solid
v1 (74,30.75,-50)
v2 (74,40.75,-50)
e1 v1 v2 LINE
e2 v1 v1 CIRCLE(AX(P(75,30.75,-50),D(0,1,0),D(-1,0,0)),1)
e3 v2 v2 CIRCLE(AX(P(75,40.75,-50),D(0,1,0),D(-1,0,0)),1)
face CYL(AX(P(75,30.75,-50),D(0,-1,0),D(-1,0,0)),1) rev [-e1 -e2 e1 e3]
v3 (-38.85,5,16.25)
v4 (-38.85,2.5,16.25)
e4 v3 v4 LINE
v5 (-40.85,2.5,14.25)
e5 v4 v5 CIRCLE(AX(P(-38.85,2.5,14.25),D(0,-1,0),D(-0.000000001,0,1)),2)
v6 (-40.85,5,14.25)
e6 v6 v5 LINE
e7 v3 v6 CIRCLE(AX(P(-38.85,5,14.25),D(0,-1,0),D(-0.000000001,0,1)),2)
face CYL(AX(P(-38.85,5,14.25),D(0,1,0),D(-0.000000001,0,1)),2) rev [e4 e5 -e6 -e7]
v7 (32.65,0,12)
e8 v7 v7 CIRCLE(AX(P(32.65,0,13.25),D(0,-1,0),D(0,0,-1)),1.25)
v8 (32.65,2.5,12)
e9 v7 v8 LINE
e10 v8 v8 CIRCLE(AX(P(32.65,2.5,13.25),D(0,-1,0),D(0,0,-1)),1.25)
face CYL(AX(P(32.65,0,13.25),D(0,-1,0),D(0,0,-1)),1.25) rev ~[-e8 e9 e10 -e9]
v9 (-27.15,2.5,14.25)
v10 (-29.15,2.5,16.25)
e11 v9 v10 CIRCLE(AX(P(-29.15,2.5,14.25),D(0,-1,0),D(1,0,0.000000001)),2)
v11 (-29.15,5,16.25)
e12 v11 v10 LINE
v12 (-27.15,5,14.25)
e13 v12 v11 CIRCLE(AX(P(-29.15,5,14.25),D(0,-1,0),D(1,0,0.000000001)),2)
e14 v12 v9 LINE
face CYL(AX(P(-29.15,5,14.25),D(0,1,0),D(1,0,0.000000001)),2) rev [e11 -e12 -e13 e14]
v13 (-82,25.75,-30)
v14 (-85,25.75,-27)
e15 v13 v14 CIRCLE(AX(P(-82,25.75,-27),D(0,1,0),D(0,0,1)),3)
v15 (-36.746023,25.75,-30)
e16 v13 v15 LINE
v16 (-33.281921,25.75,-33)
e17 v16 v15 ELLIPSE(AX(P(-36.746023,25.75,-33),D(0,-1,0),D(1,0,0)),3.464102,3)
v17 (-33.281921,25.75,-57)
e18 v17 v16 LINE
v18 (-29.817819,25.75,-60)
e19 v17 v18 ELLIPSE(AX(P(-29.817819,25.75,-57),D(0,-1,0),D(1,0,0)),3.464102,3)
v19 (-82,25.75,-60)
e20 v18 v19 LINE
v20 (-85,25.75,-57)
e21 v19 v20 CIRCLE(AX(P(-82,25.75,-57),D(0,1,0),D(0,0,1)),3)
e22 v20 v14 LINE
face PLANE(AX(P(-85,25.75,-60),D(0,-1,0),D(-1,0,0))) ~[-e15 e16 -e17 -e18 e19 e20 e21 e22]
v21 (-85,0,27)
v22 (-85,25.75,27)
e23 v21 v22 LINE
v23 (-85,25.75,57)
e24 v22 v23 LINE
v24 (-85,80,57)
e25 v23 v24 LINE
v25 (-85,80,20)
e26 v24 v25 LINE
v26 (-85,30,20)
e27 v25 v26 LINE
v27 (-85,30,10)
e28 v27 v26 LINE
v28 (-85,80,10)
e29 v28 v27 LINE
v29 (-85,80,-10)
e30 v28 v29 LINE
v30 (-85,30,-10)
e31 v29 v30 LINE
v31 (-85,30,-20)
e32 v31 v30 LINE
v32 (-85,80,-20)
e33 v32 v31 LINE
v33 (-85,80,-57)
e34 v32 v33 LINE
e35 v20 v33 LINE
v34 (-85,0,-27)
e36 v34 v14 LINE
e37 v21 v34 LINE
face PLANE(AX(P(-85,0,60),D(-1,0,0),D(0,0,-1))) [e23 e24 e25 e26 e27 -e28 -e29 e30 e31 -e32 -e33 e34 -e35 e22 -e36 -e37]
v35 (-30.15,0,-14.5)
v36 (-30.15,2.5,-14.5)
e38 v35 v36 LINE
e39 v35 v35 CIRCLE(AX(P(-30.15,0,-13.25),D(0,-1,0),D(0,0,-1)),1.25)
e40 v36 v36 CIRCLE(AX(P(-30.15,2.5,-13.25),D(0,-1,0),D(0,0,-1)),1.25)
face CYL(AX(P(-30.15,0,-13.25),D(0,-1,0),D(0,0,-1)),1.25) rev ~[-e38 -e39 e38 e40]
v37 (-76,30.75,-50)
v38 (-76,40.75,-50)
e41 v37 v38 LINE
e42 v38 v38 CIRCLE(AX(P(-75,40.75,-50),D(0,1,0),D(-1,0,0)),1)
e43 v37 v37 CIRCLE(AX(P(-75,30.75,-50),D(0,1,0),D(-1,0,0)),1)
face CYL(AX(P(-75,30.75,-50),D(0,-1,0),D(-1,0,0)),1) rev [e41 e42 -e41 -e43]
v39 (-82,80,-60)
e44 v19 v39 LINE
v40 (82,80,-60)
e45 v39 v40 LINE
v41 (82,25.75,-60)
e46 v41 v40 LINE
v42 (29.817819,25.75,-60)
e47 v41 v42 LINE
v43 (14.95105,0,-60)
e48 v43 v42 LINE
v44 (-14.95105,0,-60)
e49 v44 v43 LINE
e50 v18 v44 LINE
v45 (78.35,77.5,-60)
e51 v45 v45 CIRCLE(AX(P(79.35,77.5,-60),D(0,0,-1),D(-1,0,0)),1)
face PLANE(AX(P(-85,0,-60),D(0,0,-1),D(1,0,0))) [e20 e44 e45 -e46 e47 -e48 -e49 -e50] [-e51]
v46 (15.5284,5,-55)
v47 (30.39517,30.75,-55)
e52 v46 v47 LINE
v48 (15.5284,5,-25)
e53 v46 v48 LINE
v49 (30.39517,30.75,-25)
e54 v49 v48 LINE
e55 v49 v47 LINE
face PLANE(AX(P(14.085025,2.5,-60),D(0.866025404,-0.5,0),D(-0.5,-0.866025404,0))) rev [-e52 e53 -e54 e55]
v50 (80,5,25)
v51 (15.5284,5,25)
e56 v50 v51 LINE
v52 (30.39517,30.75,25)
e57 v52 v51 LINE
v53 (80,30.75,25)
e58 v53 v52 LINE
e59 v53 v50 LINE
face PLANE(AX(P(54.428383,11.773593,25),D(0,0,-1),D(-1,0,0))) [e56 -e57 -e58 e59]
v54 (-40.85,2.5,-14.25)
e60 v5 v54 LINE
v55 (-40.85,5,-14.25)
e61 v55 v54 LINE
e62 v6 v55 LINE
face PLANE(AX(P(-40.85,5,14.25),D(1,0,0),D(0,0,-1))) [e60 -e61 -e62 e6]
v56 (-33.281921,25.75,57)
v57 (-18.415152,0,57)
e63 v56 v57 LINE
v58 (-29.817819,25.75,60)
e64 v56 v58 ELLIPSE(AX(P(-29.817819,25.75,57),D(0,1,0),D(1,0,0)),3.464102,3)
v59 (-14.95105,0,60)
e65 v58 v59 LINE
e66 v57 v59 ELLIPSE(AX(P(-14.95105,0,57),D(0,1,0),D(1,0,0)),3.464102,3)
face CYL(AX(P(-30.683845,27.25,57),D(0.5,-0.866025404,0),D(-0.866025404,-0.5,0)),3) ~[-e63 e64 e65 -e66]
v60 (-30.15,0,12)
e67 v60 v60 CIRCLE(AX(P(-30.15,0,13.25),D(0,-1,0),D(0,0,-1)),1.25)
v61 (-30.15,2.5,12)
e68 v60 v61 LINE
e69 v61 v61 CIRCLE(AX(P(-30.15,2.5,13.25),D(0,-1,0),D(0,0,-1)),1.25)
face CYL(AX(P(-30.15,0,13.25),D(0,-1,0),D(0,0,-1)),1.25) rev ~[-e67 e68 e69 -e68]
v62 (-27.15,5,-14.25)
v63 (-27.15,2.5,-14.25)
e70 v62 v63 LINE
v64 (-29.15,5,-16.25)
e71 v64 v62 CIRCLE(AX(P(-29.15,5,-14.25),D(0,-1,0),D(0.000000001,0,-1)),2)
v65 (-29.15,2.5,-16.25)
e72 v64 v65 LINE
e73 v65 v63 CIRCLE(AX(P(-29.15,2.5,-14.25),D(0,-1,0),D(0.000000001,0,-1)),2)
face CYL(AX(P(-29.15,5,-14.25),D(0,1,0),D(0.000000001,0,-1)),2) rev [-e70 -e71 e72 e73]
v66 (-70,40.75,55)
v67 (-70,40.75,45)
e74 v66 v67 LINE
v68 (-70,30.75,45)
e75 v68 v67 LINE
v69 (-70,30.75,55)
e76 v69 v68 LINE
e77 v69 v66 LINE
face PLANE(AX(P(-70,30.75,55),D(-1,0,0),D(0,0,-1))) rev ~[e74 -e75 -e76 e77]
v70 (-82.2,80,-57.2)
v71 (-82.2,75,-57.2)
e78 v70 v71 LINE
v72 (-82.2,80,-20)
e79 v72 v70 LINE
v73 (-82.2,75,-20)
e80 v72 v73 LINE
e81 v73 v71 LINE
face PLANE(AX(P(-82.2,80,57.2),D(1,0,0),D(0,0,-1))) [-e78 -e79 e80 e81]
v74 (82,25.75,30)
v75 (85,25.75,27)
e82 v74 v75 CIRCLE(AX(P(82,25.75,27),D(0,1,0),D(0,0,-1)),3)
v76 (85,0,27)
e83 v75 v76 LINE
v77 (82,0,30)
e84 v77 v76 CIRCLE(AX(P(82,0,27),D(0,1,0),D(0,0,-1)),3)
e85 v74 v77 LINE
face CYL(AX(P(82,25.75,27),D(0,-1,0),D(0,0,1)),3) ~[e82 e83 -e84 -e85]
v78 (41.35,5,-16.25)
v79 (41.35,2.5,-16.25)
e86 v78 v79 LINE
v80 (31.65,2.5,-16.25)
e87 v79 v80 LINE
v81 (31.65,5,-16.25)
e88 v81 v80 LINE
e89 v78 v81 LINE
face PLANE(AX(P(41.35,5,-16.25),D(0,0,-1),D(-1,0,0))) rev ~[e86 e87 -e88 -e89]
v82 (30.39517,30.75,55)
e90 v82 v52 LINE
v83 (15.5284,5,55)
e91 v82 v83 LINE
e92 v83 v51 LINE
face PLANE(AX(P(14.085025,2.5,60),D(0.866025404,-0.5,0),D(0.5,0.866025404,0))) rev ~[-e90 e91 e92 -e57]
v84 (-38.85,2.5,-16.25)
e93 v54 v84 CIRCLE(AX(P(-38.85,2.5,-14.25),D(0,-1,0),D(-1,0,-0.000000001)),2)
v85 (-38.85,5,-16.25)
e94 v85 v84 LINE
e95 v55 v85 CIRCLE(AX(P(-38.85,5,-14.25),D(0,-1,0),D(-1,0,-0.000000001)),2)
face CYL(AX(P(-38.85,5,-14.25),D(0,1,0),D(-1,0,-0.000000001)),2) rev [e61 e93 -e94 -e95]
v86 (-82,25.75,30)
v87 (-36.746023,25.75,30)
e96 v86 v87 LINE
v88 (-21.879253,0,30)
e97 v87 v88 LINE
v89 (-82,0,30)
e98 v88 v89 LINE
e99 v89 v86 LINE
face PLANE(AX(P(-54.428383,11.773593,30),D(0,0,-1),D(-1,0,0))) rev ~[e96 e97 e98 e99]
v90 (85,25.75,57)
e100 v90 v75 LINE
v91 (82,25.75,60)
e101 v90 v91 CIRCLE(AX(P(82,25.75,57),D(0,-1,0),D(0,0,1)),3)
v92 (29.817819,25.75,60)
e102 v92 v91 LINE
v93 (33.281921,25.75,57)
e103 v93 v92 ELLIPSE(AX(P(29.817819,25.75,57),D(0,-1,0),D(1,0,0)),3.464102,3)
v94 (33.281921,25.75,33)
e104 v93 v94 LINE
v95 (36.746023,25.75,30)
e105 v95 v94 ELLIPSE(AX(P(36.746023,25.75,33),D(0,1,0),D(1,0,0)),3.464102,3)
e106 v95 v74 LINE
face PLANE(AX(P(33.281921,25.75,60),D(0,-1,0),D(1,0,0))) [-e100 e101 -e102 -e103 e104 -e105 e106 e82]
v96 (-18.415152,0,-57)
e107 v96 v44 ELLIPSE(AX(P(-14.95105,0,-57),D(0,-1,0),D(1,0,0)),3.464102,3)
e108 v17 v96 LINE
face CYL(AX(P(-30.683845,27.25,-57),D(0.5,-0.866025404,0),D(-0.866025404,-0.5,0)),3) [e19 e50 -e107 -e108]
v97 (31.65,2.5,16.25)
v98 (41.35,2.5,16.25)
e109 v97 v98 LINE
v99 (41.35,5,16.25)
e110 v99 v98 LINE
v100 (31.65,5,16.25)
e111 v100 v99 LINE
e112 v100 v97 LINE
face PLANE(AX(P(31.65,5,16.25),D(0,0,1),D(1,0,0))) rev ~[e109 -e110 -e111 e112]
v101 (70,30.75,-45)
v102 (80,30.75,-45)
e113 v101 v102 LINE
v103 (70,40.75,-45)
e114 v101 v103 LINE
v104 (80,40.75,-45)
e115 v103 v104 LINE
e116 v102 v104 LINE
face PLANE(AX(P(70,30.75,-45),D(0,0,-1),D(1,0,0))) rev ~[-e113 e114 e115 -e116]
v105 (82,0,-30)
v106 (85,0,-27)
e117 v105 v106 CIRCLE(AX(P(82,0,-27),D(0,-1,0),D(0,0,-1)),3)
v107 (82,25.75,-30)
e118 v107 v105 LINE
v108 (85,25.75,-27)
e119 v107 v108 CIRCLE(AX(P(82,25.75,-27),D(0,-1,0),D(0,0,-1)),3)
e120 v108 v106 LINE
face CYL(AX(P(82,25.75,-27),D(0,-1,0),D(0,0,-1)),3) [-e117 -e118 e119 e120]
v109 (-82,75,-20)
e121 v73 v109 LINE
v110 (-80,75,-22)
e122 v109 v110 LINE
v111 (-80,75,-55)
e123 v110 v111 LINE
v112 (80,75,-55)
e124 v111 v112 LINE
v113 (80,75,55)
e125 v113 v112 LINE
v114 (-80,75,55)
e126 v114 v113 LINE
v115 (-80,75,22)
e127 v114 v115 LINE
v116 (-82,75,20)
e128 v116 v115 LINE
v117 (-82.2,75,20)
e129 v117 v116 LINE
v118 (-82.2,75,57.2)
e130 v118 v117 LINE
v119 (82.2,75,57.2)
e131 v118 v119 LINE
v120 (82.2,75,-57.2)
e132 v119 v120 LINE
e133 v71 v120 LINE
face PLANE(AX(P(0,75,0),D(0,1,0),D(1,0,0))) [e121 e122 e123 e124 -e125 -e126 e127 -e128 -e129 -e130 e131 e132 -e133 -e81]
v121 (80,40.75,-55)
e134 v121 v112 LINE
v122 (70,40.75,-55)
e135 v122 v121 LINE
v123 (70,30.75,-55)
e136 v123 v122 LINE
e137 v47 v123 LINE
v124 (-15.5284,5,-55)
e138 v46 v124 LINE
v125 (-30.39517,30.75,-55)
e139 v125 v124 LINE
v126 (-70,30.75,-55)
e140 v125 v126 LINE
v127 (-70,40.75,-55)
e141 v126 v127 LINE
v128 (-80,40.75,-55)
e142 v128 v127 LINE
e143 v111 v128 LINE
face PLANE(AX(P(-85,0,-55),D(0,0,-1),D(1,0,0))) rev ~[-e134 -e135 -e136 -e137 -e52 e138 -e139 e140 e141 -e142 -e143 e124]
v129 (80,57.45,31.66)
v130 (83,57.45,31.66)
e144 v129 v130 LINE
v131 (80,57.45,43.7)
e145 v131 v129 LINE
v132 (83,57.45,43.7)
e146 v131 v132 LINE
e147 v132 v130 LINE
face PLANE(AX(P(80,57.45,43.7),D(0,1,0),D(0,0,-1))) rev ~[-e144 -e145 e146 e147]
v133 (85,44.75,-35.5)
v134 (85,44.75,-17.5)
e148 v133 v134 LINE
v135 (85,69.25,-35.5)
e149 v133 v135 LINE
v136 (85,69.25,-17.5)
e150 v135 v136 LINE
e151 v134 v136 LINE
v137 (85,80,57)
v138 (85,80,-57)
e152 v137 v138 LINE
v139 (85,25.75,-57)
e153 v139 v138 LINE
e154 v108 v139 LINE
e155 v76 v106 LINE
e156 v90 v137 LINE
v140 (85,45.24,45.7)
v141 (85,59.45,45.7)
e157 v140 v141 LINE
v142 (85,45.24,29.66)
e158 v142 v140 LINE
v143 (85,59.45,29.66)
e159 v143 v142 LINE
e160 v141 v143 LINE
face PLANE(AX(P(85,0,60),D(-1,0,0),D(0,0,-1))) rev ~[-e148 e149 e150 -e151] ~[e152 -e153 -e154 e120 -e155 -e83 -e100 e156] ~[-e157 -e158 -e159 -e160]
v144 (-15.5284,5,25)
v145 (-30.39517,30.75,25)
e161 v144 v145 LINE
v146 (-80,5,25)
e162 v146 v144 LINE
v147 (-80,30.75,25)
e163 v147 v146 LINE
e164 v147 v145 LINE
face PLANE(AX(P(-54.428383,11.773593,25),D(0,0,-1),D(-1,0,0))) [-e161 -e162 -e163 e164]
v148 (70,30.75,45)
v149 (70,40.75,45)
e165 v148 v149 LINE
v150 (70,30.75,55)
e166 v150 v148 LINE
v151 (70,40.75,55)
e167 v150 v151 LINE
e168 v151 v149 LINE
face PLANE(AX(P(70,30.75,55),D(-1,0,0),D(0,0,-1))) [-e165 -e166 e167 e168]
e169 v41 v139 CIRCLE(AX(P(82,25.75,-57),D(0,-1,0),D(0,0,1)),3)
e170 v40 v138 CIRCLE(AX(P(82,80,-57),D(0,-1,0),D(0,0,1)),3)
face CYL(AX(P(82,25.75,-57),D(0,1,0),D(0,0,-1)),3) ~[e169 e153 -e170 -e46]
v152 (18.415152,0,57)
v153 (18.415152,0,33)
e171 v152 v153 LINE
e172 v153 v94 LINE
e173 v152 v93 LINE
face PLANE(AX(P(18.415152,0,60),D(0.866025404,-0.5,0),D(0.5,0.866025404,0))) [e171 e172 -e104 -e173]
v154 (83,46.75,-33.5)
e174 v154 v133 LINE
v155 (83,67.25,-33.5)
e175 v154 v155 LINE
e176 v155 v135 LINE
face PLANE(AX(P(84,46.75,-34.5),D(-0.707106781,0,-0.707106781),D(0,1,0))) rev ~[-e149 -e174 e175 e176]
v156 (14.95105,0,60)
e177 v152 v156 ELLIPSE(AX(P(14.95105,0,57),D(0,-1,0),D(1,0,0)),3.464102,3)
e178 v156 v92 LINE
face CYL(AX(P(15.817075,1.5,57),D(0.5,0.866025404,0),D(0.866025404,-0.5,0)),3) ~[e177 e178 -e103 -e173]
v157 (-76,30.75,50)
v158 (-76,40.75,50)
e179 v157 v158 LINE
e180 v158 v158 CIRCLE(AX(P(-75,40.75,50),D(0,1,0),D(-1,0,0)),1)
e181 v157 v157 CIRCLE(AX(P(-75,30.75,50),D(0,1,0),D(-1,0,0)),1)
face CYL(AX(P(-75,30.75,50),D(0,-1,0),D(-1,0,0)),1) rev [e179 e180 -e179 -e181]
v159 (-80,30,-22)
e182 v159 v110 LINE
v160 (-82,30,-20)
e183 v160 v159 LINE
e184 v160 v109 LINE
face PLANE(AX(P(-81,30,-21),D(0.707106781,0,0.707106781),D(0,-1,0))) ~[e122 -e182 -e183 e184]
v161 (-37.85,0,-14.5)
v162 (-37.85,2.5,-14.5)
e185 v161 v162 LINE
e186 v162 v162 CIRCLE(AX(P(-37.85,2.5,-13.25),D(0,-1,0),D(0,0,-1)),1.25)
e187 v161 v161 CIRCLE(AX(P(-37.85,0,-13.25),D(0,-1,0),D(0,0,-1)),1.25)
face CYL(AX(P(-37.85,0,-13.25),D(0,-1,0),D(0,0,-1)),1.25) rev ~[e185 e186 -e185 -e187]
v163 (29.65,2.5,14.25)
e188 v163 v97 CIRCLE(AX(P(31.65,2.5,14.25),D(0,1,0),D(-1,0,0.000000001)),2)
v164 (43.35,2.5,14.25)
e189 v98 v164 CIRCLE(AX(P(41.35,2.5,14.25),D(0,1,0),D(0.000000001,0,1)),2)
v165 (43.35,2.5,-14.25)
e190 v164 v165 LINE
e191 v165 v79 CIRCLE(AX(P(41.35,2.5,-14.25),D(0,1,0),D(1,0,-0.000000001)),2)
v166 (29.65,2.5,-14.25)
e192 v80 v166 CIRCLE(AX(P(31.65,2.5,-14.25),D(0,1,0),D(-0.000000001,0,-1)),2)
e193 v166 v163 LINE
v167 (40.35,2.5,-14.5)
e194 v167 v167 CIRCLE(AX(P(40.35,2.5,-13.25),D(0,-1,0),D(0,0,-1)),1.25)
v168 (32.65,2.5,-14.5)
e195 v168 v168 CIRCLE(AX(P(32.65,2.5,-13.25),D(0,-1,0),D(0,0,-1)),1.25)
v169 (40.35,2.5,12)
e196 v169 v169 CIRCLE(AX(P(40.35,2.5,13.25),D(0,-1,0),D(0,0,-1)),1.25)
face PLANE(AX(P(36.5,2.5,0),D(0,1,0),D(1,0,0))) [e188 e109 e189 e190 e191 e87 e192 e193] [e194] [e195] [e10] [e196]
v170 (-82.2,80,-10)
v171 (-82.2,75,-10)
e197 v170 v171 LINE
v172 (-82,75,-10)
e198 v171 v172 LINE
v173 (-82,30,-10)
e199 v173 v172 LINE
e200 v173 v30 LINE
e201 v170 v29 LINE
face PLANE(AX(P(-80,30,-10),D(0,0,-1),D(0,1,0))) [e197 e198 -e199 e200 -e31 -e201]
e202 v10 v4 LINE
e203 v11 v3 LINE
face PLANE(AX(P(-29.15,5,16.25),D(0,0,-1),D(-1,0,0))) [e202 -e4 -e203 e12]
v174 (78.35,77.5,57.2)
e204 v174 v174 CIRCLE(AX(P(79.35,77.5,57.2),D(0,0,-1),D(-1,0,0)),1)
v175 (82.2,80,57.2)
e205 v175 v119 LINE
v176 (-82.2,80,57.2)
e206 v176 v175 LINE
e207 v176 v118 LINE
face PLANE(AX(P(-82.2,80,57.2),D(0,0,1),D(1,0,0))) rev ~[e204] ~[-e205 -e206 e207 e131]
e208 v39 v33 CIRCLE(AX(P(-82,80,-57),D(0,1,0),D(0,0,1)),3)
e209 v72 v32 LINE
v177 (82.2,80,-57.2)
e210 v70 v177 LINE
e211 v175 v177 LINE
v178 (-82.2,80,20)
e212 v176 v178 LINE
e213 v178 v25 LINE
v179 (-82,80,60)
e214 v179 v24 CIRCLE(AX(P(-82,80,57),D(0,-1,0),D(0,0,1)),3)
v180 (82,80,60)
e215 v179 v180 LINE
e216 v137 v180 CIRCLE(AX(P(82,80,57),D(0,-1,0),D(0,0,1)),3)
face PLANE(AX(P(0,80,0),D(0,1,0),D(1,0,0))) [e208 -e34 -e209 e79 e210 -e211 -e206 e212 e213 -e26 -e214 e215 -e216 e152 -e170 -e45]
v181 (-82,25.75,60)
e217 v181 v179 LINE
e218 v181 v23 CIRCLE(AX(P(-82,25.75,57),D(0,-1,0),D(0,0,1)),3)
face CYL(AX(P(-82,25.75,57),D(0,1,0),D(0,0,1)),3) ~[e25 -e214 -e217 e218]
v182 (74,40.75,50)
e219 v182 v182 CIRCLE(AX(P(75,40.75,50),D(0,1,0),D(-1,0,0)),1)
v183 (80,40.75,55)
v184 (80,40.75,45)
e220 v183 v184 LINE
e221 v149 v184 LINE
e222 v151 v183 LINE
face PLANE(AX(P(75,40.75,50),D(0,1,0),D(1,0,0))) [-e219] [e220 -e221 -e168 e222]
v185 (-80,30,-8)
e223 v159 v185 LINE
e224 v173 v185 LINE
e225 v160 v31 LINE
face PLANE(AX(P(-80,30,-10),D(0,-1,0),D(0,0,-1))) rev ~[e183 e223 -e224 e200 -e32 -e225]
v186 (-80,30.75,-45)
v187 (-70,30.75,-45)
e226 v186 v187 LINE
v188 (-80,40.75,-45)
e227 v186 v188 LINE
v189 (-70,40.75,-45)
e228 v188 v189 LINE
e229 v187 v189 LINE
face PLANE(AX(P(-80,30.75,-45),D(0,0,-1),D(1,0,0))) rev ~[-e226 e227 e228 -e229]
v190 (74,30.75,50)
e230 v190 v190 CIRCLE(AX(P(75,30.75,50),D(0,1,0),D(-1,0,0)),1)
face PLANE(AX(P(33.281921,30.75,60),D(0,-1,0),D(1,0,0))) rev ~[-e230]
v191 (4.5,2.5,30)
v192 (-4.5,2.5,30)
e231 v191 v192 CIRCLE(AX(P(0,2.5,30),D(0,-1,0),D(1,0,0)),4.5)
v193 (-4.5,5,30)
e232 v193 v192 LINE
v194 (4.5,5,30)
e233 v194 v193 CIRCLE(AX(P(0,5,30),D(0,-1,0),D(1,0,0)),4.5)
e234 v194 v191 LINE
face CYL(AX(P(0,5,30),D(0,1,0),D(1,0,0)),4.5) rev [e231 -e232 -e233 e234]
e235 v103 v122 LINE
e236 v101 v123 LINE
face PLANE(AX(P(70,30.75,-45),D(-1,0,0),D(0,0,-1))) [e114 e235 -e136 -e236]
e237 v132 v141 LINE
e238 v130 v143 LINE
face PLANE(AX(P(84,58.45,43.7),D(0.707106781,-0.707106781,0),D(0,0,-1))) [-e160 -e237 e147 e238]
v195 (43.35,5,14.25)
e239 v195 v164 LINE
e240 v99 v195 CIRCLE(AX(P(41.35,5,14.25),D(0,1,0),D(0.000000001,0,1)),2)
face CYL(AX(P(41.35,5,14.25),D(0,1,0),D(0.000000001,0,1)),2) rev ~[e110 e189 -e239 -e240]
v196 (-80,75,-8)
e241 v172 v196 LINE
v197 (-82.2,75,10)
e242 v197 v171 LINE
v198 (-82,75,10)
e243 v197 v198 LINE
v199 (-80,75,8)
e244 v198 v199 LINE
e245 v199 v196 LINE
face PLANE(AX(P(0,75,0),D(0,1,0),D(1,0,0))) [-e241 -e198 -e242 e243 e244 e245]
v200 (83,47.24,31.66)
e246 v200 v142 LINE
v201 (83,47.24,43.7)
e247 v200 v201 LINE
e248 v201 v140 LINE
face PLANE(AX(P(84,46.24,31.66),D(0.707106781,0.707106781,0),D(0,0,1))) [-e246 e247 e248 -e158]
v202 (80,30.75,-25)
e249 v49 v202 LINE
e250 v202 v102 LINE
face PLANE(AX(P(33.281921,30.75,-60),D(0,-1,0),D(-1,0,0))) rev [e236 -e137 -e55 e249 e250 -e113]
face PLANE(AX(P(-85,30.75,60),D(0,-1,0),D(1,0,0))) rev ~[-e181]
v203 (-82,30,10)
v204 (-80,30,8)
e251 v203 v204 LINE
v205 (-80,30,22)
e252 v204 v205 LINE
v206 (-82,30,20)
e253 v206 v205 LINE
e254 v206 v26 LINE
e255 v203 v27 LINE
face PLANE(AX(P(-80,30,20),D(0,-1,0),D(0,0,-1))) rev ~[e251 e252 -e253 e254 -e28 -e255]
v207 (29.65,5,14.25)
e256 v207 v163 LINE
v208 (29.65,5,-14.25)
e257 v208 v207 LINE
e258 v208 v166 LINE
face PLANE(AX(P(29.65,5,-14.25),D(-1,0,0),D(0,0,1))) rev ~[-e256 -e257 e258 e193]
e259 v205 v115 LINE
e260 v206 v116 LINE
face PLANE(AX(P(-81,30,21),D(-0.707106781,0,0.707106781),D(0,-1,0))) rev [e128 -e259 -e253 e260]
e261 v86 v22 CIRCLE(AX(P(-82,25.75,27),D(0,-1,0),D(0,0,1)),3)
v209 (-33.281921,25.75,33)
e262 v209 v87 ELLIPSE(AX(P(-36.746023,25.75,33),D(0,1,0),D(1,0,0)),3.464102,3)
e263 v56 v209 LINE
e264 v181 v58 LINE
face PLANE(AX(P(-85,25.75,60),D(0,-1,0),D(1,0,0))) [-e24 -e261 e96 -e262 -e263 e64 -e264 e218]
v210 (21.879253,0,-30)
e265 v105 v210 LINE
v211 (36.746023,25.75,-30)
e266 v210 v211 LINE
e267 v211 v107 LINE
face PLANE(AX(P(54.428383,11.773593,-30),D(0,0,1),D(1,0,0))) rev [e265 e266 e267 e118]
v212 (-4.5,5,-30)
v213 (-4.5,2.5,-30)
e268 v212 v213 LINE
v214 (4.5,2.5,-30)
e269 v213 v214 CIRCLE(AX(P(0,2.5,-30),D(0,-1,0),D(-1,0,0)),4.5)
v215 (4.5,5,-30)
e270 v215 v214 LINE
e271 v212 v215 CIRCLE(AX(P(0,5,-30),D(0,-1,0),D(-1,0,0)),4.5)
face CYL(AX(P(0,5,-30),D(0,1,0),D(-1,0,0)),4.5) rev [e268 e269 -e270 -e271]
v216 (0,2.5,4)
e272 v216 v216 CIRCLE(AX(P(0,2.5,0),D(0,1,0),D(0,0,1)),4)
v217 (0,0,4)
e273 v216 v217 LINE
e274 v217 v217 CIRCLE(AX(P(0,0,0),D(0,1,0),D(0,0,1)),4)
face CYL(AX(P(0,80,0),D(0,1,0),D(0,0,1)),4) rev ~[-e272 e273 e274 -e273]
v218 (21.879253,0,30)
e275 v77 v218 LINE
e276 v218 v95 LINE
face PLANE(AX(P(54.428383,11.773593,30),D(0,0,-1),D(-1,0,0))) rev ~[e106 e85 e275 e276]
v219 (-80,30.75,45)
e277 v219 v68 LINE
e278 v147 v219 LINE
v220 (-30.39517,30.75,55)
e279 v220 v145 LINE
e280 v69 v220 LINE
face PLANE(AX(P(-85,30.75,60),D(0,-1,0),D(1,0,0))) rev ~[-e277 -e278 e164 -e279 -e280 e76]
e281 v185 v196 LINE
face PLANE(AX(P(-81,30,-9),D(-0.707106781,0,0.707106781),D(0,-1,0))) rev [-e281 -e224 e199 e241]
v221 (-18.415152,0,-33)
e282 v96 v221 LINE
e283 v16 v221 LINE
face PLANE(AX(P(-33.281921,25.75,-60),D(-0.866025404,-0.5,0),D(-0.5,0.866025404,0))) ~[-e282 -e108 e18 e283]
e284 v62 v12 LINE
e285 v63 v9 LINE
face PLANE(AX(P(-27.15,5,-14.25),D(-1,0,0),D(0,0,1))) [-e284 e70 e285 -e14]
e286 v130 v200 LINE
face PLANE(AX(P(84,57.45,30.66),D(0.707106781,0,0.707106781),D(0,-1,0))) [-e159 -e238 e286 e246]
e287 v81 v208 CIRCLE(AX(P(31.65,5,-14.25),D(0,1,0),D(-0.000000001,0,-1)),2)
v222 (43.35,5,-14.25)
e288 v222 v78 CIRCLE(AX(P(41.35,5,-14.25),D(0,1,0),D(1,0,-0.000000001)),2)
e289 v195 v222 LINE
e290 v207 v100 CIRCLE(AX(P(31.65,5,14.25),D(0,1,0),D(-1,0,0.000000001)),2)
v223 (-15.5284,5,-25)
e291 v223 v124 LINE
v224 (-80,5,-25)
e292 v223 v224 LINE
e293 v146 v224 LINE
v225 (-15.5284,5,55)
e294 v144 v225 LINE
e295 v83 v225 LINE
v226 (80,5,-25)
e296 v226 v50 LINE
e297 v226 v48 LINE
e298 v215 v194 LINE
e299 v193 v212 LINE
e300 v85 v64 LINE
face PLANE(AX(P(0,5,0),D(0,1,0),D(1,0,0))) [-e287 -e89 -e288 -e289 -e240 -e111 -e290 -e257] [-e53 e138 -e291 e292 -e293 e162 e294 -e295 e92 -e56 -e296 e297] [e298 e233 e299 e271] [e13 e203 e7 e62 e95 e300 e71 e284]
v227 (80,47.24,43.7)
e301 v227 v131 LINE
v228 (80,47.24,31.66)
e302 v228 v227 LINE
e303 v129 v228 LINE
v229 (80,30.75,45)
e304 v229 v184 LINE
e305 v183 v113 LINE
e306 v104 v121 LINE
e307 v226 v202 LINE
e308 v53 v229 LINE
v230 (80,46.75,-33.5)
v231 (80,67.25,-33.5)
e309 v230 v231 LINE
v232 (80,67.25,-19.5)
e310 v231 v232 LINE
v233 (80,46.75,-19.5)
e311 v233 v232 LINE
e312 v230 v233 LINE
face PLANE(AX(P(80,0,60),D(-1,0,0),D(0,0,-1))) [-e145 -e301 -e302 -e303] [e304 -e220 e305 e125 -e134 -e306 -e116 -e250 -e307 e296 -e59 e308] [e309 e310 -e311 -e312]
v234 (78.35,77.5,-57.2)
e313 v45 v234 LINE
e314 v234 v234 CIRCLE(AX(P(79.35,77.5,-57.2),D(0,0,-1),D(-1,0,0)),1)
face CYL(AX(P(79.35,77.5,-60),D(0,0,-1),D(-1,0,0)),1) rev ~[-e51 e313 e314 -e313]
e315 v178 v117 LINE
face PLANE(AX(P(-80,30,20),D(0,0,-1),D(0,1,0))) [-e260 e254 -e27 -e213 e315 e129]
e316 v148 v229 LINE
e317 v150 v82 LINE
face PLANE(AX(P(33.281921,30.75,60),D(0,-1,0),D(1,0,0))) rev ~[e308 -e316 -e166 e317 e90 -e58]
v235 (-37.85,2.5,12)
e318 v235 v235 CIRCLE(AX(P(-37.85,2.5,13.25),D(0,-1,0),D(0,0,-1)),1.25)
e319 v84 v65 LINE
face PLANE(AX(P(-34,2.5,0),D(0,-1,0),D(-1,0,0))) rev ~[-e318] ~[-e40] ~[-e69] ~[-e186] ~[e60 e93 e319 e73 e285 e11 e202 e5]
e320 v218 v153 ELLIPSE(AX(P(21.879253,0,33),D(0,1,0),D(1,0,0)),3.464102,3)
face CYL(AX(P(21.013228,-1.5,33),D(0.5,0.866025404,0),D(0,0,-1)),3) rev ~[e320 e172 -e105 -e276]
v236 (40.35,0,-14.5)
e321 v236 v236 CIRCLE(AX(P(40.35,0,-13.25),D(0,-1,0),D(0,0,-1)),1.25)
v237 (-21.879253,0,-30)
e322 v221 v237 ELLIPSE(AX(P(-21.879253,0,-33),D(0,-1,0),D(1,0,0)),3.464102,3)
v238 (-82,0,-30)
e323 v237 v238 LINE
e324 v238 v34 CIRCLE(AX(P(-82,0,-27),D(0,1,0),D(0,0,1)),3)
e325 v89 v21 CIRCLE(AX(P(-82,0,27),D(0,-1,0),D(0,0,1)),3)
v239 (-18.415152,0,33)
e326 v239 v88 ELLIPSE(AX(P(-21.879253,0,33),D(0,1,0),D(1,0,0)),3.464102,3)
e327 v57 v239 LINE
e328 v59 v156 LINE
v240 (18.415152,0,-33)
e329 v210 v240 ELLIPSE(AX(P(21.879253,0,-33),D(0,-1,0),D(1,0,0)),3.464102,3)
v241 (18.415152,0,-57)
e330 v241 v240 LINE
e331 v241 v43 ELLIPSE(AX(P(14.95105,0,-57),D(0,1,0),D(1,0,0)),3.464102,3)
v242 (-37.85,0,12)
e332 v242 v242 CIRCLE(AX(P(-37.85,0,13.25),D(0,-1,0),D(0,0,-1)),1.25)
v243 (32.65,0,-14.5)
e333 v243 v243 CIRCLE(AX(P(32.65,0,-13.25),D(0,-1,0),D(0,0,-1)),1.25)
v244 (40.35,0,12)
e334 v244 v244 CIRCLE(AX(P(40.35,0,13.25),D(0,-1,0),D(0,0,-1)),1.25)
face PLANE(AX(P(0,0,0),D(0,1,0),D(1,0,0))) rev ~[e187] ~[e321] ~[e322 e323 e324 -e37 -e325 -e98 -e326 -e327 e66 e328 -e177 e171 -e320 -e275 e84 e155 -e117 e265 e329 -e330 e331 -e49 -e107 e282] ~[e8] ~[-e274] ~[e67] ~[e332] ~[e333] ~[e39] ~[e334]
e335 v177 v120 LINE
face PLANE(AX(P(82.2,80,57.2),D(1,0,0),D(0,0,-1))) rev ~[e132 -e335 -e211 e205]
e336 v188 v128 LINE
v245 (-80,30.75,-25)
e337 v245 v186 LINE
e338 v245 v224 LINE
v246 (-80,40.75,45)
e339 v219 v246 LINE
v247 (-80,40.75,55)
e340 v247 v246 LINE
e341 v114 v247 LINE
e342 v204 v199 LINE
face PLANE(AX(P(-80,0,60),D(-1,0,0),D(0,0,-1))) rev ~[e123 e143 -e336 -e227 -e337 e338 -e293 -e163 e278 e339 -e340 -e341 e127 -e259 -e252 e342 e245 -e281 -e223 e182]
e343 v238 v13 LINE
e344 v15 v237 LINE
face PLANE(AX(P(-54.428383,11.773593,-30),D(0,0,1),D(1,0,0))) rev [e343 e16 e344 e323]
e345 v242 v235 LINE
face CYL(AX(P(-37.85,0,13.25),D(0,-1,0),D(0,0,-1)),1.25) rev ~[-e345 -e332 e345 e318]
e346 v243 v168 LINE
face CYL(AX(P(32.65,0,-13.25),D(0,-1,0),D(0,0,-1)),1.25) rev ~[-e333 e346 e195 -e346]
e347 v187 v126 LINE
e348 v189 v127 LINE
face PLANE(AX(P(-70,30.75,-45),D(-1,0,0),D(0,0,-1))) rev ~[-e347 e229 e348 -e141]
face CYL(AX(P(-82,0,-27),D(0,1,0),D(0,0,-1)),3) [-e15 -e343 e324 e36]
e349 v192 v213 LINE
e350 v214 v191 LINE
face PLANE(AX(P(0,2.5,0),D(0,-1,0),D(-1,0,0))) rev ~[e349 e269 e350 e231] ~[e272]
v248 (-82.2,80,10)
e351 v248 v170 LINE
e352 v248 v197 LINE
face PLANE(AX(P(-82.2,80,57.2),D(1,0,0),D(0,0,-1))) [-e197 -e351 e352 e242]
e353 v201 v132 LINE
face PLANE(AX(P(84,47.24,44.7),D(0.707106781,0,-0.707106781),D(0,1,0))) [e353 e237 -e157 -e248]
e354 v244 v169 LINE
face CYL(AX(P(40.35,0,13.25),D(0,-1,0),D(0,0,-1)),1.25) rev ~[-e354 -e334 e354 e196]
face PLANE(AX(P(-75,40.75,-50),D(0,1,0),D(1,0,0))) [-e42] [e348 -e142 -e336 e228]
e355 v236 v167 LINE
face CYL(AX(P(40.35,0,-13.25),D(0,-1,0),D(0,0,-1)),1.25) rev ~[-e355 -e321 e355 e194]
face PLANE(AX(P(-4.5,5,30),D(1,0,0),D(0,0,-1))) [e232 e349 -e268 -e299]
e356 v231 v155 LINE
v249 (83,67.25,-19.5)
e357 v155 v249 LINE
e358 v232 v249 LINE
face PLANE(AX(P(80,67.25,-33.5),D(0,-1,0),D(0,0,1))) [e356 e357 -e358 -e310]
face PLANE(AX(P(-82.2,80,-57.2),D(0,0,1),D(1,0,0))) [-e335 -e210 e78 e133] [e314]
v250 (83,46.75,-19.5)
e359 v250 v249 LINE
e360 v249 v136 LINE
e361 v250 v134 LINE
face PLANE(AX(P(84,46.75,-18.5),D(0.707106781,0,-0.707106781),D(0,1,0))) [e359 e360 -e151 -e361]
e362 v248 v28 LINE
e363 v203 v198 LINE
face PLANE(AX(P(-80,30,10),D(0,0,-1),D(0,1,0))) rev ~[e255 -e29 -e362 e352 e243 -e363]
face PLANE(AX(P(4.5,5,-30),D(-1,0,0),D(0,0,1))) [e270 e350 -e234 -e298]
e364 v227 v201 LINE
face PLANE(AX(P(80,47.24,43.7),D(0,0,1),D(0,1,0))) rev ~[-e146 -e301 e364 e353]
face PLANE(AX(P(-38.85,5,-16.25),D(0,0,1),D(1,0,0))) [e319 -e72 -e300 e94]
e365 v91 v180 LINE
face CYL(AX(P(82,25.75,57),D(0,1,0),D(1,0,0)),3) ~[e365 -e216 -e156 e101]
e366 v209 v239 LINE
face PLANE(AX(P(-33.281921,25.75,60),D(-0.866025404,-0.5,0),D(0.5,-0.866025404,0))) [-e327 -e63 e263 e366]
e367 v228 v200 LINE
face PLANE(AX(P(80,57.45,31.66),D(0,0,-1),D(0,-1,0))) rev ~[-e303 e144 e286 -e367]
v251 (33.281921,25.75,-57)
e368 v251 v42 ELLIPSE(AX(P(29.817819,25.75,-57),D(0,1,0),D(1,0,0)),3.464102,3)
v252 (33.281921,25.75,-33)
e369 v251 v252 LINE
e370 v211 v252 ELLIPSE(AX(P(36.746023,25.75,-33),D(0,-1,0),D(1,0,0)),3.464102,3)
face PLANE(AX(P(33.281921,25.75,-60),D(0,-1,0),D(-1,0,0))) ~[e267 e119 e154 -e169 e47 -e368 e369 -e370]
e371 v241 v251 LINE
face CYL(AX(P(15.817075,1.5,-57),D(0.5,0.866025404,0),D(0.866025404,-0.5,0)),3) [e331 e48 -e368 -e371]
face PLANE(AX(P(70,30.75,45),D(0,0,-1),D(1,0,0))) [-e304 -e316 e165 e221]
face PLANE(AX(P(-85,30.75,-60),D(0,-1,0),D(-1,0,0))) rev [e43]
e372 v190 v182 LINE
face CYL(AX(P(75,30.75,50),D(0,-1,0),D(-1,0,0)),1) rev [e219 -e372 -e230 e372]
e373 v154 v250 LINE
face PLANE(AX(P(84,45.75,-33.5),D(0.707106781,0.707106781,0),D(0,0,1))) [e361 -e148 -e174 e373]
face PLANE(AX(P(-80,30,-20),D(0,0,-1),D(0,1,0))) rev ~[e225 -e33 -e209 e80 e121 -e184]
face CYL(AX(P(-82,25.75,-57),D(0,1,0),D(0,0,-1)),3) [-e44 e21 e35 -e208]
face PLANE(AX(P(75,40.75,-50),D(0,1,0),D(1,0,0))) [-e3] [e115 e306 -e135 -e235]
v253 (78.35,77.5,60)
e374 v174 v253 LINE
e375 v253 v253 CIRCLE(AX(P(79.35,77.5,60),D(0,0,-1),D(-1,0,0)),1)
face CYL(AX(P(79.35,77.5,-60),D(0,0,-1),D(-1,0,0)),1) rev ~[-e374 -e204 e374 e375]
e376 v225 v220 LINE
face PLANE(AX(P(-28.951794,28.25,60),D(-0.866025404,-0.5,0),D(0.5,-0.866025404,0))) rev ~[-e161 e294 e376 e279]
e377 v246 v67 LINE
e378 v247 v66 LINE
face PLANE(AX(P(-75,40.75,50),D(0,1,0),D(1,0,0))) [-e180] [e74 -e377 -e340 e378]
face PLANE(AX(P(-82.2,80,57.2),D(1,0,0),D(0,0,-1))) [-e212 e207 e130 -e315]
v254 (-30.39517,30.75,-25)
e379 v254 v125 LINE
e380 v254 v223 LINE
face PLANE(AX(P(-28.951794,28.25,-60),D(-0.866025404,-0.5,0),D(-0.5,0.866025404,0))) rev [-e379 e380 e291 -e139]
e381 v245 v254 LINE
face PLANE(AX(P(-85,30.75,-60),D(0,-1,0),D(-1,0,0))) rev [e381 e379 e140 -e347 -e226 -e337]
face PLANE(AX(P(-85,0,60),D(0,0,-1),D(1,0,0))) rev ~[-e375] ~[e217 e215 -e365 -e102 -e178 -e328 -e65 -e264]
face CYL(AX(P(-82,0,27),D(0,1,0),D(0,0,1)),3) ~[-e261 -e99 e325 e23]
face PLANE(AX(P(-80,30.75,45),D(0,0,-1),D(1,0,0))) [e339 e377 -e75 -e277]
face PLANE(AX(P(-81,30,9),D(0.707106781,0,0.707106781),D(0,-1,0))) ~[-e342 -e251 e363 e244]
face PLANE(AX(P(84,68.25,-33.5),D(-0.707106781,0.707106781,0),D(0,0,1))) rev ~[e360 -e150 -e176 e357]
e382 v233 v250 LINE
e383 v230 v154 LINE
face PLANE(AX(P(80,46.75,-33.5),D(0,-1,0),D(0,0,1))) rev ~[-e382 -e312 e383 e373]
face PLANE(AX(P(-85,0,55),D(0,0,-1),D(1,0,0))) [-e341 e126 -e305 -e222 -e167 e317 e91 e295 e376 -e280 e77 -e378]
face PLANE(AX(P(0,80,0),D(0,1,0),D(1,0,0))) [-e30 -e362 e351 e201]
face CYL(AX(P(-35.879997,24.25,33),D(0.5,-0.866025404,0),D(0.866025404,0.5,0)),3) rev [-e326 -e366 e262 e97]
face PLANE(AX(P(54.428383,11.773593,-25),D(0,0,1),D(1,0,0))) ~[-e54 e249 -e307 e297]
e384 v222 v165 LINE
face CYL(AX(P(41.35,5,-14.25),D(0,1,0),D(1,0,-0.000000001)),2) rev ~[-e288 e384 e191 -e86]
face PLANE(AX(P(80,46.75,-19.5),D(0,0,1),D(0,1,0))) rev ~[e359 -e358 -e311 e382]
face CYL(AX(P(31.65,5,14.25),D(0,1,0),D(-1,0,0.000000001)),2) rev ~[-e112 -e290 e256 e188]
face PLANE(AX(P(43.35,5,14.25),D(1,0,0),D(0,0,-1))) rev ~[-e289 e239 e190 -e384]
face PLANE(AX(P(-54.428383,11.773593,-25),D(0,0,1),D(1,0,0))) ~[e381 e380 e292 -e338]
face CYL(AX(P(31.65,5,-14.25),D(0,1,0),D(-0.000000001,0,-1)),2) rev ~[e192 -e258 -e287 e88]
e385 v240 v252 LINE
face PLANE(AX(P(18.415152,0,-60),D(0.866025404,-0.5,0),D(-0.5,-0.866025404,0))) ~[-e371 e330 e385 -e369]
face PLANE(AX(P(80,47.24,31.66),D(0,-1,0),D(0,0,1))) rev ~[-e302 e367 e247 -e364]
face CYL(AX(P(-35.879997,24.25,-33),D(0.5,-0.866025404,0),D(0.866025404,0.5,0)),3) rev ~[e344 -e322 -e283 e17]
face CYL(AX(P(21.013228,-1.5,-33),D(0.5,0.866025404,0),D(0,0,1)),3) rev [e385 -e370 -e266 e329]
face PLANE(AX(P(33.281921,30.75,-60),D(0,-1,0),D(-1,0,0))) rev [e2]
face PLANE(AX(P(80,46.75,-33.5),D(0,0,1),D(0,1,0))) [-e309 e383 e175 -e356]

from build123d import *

# Parameters (mm, degrees)
ESBO_O7_W                = 170
ESBO_O7_H                = 120
RESSALTO_EXTRUS_O4_DEPTH = 80
CORTE_EXTRUS_O9_DEPTH    = 30
CASCA1_T                 = -5
ESBO_O9_R                = 1.25
CORTE_EXTRUS_O4_DEPTH    = 132.244047484
CORTE_EXTRUS_O5_START    = -2.5
ESBO_O10_R               = 1.25
CORTE_EXTRUS_O5_DEPTH    = 2.5
ESBO_O13_R               = 4
CORTE_EXTRUS_O7_DEPTH    = 132.244047484
CORTE_EXTRUS_O8_DEPTH    = 2.5
ESBO_O22_W               = 14
ESBO_O22_H               = 20.5
ESBO_O22_W_2             = 12.04
ESBO_O22_H_2             = 10.21
CORTE_EXTRUS_O10_DEPTH   = 193.937813816
ESBO_O23_W               = 10
ESBO_O23_H               = 50
CORTE_EXTRUS_O11_DEPTH   = 193.937813816
CHANFRO1_SIZE            = 2
FILETE2_R                = 3
ESBO_O25_W               = 164.4
ESBO_O25_H               = 114.4
CORTE_EXTRUS_O12_DEPTH   = 5
ESBO_O26_R               = 1
CORTE_EXTRUS_O13_DEPTH   = 168.406690428
ESBO_O27_W               = 10
ESBO_O27_H               = 10
ESBO_O27_R               = 1
RESSALTO_EXTRUS_O7_DEPTH = 10
CHANFRO2_SIZE            = 2


with BuildPart() as part:
    # Esboço7 → Ressalto-extrusão4 (new body)
    with BuildSketch(Plane(origin=(0, 0, 0), x_dir=(1, 0, 0), z_dir=(0, 1, 0))):
        Rectangle(ESBO_O7_W, ESBO_O7_H)
    extrude(amount=RESSALTO_EXTRUS_O4_DEPTH)

    # Esboço17 → Corte-extrusão9 (cut)
    with BuildSketch(Plane.XY.offset(60)):
        Polygon((-85, 25.75), (-33.281920983, 25.75), (-18.415151551, 0), (-85, 0), align=None)
        Polygon((85, 0), (18.415151551, 0), (33.281920983, 25.75), (85, 25.75), align=None)
    corte_extrus_o9 = extrude(amount=-CORTE_EXTRUS_O9_DEPTH, mode=Mode.SUBTRACT)

    # Espelhar3: Corte-extrusão9 across plane
    add(corte_extrus_o9.mirror(Plane.XY), mode=Mode.SUBTRACT)

    # Casca1
    casca1_openings = [part.faces().sort_by_distance(p)[0] for p in [
        (0, 80, 0),
    ]]
    offset(amount=CASCA1_T, openings=casca1_openings, kind=Kind.INTERSECTION)

    # Esboço9 → Corte-extrusão4 (cut, through all)
    with BuildSketch(Plane.XZ):
        with Locations((40.35, -13.25)):
            Circle(ESBO_O9_R)
        with Locations((32.65, -13.25)):
            Circle(ESBO_O9_R)
        with Locations((40.35, 13.25)):
            Circle(ESBO_O9_R)
        with Locations((32.65, 13.25)):
            Circle(ESBO_O9_R)
        with Locations((-30.15, 13.25)):
            Circle(ESBO_O9_R)
        with Locations((-37.85, 13.25)):
            Circle(ESBO_O9_R)
        with Locations((-30.15, -13.25)):
            Circle(ESBO_O9_R)
        with Locations((-37.85, -13.25)):
            Circle(ESBO_O9_R)
    extrude(amount=-CORTE_EXTRUS_O4_DEPTH, mode=Mode.SUBTRACT)

    # Esboço10 → Corte-extrusão5 (cut)
    # profile 1 of 2: a face of its own
    with BuildSketch(Plane(origin=(0, 5, 0), x_dir=(1, 0, 0), z_dir=(0, 1, 0)).offset(CORTE_EXTRUS_O5_START)):
        with BuildLine():
            ThreePointArc((43.35, 14.25), (42.764213562, 15.664213562), (41.35, 16.25))
            Line((41.35, 16.25), (31.65, 16.25))
            ThreePointArc((31.65, 16.25), (30.235786438, 15.664213562), (29.65, 14.25))
            Line((29.65, 14.25), (29.65, -14.25))
            ThreePointArc((29.65, -14.25), (30.235786438, -15.664213562), (31.65, -16.25))
            Line((31.65, -16.25), (41.35, -16.25))
            ThreePointArc((41.35, -16.25), (42.764213562, -15.664213562), (43.35, -14.25))
            Line((43.35, -14.25), (43.35, 14.25))
        make_face()
    # profile 2 of 2: a face of its own
    with BuildSketch(Plane(origin=(0, 5, 0), x_dir=(1, 0, 0), z_dir=(0, 1, 0)).offset(CORTE_EXTRUS_O5_START)):
        with BuildLine():
            Line((-29.15, 16.25), (-38.85, 16.25))
            ThreePointArc((-38.85, 16.25), (-40.264213562, 15.664213562), (-40.85, 14.25))
            Line((-40.85, 14.25), (-40.85, -14.25))
            ThreePointArc((-40.85, -14.25), (-40.264213562, -15.664213562), (-38.85, -16.25))
            Line((-38.85, -16.25), (-29.15, -16.25))
            ThreePointArc((-29.15, -16.25), (-27.735786438, -15.664213562), (-27.15, -14.25))
            Line((-27.15, -14.25), (-27.15, 14.25))
            ThreePointArc((-27.15, 14.25), (-27.735786438, 15.664213562), (-29.15, 16.25))
        make_face()
        with Locations((-37.85, -13.25)):
            Circle(ESBO_O10_R, mode=Mode.SUBTRACT)
        with Locations((-30.15, -13.25)):
            Circle(ESBO_O10_R, mode=Mode.SUBTRACT)
        with Locations((-37.85, 13.25)):
            Circle(ESBO_O10_R, mode=Mode.SUBTRACT)
        with Locations((-30.15, 13.25)):
            Circle(ESBO_O10_R, mode=Mode.SUBTRACT)
    extrude(amount=CORTE_EXTRUS_O5_DEPTH, mode=Mode.SUBTRACT)

    # Esboço13 → Corte-extrusão7 (cut, through all)
    with BuildSketch(Plane(origin=(0, 80, 0), x_dir=(1, 0, 0), z_dir=(0, 1, 0))):
        Circle(ESBO_O13_R)
    extrude(amount=-CORTE_EXTRUS_O7_DEPTH, mode=Mode.SUBTRACT)

    # Esboço14 → Corte-extrusão8 (cut)
    with BuildSketch(Plane(origin=(0, 5, 0), x_dir=(1, 0, 0), z_dir=(0, 1, 0))):
        with BuildLine():
            Line((-4.5, -30), (-4.5, 30))
            ThreePointArc((-4.5, 30), (0, 34.5), (4.5, 30))
            Line((4.5, 30), (4.5, -30))
            ThreePointArc((4.5, -30), (0, -34.5), (-4.5, -30))
        make_face()
    extrude(amount=-CORTE_EXTRUS_O8_DEPTH, mode=Mode.SUBTRACT)

    # Esboço22 → Corte-extrusão10 (cut, through all)
    with BuildSketch(Plane.ZY.offset(-80)):
        with Locations((-26.5, 57)):
            Rectangle(ESBO_O22_W, ESBO_O22_H)
        with Locations((37.68, 52.345)):
            Rectangle(ESBO_O22_W_2, ESBO_O22_H_2)
    extrude(amount=-CORTE_EXTRUS_O10_DEPTH, mode=Mode.SUBTRACT)

    # Esboço23 → Corte-extrusão11 (cut, through all)
    with BuildSketch(Plane(origin=(-80, 0, 0), x_dir=(0, 0, -1), z_dir=(1, 0, 0))):
        with Locations((-15, 55)):
            Rectangle(ESBO_O23_W, ESBO_O23_H)
        with Locations((15, 55)):
            Rectangle(ESBO_O23_W, ESBO_O23_H)
    extrude(amount=-CORTE_EXTRUS_O11_DEPTH, mode=Mode.SUBTRACT)

    # Chanfro1
    chanfro1_edges = [part.edges().sort_by_distance(p)[0] for p in [
        (-80, 55, 20),
        (-80, 55, -20),
        (-80, 55, -10),
        (-80, 55, 10),
    ]]
    chamfer(chanfro1_edges, length=CHANFRO1_SIZE)

    # Filete2
    filete2_edges = [part.edges().sort_by_distance(p)[0] for p in [
        (85, 12.875, 30),
        (85, 12.875, -30),
        (25.848536267, 12.875, -30),
        (25.848536267, 12.875, -60),
        (-25.848536267, 12.875, -60),
        (-25.848536267, 12.875, -30),
        (-85, 12.875, -30),
        (-85, 12.875, 30),
        (-25.848536267, 12.875, 30),
        (25.848536267, 12.875, 30),
        (25.848536267, 12.875, 60),
        (-25.848536267, 12.875, 60),
        (-85, 52.875, 60),
        (-85, 52.875, -60),
        (85, 52.875, -60),
        (85, 52.875, 60),
    ]]
    fillet(filete2_edges, radius=FILETE2_R)

    # Esboço25 → Corte-extrusão12 (cut)
    with BuildSketch(Plane(origin=(0, 80, 0), x_dir=(1, 0, 0), z_dir=(0, 1, 0))):
        Rectangle(ESBO_O25_W, ESBO_O25_H)
    extrude(amount=-CORTE_EXTRUS_O12_DEPTH, mode=Mode.SUBTRACT)

    # Esboço26 → Corte-extrusão13 (cut, through all)
    with BuildSketch(Plane(origin=(0, 0, -60), x_dir=(-1, 0, 0), z_dir=(0, 0, -1))):
        with Locations((-79.35, 77.5)):
            Circle(ESBO_O26_R)
        with Locations((62.965472747, 147.728172529)):
            Circle(ESBO_O26_R)
    extrude(amount=-CORTE_EXTRUS_O13_DEPTH, mode=Mode.SUBTRACT)

    # Esboço27 → Ressalto-extrusão7 (add)
    # profile 1 of 4: a face of its own
    with BuildSketch(Plane(origin=(0, 30.75, 0), x_dir=(1, 0, 0), z_dir=(0, 1, 0))):
        with Locations((-75, 50)):
            Rectangle(ESBO_O27_W, ESBO_O27_H)
        with Locations((-75, 50)):
            Circle(ESBO_O27_R, mode=Mode.SUBTRACT)
    # profile 2 of 4: a face of its own
    with BuildSketch(Plane(origin=(0, 30.75, 0), x_dir=(1, 0, 0), z_dir=(0, 1, 0))):
        with Locations((75, 50)):
            Rectangle(ESBO_O27_W, ESBO_O27_H)
        with Locations((75, 50)):
            Circle(ESBO_O27_R, mode=Mode.SUBTRACT)
    # profile 3 of 4: a face of its own
    with BuildSketch(Plane(origin=(0, 30.75, 0), x_dir=(1, 0, 0), z_dir=(0, 1, 0))):
        with Locations((75, -50)):
            Rectangle(ESBO_O27_W, ESBO_O27_H)
        with Locations((75, -50)):
            Circle(ESBO_O27_R, mode=Mode.SUBTRACT)
    # profile 4 of 4: a face of its own
    with BuildSketch(Plane(origin=(0, 30.75, 0), x_dir=(1, 0, 0), z_dir=(0, 1, 0))):
        with Locations((-75, -50)):
            Rectangle(ESBO_O27_W, ESBO_O27_H)
        with Locations((-75, -50)):
            Circle(ESBO_O27_R, mode=Mode.SUBTRACT)
    extrude(amount=RESSALTO_EXTRUS_O7_DEPTH)

    # Chanfro2
    chanfro2_edges = [part.edges().sort_by_distance(p)[0] for p in [
        (85, 47.24, 37.68),
        (85, 52.345, 43.7),
        (85, 57.45, 37.68),
        (85, 52.345, 31.66),
        (85, 46.75, -26.5),
        (85, 57, -19.5),
        (85, 67.25, -26.5),
        (85, 57, -33.5),
    ]]
    chamfer(chanfro2_edges, length=CHANFRO2_SIZE)


solid = part.part
